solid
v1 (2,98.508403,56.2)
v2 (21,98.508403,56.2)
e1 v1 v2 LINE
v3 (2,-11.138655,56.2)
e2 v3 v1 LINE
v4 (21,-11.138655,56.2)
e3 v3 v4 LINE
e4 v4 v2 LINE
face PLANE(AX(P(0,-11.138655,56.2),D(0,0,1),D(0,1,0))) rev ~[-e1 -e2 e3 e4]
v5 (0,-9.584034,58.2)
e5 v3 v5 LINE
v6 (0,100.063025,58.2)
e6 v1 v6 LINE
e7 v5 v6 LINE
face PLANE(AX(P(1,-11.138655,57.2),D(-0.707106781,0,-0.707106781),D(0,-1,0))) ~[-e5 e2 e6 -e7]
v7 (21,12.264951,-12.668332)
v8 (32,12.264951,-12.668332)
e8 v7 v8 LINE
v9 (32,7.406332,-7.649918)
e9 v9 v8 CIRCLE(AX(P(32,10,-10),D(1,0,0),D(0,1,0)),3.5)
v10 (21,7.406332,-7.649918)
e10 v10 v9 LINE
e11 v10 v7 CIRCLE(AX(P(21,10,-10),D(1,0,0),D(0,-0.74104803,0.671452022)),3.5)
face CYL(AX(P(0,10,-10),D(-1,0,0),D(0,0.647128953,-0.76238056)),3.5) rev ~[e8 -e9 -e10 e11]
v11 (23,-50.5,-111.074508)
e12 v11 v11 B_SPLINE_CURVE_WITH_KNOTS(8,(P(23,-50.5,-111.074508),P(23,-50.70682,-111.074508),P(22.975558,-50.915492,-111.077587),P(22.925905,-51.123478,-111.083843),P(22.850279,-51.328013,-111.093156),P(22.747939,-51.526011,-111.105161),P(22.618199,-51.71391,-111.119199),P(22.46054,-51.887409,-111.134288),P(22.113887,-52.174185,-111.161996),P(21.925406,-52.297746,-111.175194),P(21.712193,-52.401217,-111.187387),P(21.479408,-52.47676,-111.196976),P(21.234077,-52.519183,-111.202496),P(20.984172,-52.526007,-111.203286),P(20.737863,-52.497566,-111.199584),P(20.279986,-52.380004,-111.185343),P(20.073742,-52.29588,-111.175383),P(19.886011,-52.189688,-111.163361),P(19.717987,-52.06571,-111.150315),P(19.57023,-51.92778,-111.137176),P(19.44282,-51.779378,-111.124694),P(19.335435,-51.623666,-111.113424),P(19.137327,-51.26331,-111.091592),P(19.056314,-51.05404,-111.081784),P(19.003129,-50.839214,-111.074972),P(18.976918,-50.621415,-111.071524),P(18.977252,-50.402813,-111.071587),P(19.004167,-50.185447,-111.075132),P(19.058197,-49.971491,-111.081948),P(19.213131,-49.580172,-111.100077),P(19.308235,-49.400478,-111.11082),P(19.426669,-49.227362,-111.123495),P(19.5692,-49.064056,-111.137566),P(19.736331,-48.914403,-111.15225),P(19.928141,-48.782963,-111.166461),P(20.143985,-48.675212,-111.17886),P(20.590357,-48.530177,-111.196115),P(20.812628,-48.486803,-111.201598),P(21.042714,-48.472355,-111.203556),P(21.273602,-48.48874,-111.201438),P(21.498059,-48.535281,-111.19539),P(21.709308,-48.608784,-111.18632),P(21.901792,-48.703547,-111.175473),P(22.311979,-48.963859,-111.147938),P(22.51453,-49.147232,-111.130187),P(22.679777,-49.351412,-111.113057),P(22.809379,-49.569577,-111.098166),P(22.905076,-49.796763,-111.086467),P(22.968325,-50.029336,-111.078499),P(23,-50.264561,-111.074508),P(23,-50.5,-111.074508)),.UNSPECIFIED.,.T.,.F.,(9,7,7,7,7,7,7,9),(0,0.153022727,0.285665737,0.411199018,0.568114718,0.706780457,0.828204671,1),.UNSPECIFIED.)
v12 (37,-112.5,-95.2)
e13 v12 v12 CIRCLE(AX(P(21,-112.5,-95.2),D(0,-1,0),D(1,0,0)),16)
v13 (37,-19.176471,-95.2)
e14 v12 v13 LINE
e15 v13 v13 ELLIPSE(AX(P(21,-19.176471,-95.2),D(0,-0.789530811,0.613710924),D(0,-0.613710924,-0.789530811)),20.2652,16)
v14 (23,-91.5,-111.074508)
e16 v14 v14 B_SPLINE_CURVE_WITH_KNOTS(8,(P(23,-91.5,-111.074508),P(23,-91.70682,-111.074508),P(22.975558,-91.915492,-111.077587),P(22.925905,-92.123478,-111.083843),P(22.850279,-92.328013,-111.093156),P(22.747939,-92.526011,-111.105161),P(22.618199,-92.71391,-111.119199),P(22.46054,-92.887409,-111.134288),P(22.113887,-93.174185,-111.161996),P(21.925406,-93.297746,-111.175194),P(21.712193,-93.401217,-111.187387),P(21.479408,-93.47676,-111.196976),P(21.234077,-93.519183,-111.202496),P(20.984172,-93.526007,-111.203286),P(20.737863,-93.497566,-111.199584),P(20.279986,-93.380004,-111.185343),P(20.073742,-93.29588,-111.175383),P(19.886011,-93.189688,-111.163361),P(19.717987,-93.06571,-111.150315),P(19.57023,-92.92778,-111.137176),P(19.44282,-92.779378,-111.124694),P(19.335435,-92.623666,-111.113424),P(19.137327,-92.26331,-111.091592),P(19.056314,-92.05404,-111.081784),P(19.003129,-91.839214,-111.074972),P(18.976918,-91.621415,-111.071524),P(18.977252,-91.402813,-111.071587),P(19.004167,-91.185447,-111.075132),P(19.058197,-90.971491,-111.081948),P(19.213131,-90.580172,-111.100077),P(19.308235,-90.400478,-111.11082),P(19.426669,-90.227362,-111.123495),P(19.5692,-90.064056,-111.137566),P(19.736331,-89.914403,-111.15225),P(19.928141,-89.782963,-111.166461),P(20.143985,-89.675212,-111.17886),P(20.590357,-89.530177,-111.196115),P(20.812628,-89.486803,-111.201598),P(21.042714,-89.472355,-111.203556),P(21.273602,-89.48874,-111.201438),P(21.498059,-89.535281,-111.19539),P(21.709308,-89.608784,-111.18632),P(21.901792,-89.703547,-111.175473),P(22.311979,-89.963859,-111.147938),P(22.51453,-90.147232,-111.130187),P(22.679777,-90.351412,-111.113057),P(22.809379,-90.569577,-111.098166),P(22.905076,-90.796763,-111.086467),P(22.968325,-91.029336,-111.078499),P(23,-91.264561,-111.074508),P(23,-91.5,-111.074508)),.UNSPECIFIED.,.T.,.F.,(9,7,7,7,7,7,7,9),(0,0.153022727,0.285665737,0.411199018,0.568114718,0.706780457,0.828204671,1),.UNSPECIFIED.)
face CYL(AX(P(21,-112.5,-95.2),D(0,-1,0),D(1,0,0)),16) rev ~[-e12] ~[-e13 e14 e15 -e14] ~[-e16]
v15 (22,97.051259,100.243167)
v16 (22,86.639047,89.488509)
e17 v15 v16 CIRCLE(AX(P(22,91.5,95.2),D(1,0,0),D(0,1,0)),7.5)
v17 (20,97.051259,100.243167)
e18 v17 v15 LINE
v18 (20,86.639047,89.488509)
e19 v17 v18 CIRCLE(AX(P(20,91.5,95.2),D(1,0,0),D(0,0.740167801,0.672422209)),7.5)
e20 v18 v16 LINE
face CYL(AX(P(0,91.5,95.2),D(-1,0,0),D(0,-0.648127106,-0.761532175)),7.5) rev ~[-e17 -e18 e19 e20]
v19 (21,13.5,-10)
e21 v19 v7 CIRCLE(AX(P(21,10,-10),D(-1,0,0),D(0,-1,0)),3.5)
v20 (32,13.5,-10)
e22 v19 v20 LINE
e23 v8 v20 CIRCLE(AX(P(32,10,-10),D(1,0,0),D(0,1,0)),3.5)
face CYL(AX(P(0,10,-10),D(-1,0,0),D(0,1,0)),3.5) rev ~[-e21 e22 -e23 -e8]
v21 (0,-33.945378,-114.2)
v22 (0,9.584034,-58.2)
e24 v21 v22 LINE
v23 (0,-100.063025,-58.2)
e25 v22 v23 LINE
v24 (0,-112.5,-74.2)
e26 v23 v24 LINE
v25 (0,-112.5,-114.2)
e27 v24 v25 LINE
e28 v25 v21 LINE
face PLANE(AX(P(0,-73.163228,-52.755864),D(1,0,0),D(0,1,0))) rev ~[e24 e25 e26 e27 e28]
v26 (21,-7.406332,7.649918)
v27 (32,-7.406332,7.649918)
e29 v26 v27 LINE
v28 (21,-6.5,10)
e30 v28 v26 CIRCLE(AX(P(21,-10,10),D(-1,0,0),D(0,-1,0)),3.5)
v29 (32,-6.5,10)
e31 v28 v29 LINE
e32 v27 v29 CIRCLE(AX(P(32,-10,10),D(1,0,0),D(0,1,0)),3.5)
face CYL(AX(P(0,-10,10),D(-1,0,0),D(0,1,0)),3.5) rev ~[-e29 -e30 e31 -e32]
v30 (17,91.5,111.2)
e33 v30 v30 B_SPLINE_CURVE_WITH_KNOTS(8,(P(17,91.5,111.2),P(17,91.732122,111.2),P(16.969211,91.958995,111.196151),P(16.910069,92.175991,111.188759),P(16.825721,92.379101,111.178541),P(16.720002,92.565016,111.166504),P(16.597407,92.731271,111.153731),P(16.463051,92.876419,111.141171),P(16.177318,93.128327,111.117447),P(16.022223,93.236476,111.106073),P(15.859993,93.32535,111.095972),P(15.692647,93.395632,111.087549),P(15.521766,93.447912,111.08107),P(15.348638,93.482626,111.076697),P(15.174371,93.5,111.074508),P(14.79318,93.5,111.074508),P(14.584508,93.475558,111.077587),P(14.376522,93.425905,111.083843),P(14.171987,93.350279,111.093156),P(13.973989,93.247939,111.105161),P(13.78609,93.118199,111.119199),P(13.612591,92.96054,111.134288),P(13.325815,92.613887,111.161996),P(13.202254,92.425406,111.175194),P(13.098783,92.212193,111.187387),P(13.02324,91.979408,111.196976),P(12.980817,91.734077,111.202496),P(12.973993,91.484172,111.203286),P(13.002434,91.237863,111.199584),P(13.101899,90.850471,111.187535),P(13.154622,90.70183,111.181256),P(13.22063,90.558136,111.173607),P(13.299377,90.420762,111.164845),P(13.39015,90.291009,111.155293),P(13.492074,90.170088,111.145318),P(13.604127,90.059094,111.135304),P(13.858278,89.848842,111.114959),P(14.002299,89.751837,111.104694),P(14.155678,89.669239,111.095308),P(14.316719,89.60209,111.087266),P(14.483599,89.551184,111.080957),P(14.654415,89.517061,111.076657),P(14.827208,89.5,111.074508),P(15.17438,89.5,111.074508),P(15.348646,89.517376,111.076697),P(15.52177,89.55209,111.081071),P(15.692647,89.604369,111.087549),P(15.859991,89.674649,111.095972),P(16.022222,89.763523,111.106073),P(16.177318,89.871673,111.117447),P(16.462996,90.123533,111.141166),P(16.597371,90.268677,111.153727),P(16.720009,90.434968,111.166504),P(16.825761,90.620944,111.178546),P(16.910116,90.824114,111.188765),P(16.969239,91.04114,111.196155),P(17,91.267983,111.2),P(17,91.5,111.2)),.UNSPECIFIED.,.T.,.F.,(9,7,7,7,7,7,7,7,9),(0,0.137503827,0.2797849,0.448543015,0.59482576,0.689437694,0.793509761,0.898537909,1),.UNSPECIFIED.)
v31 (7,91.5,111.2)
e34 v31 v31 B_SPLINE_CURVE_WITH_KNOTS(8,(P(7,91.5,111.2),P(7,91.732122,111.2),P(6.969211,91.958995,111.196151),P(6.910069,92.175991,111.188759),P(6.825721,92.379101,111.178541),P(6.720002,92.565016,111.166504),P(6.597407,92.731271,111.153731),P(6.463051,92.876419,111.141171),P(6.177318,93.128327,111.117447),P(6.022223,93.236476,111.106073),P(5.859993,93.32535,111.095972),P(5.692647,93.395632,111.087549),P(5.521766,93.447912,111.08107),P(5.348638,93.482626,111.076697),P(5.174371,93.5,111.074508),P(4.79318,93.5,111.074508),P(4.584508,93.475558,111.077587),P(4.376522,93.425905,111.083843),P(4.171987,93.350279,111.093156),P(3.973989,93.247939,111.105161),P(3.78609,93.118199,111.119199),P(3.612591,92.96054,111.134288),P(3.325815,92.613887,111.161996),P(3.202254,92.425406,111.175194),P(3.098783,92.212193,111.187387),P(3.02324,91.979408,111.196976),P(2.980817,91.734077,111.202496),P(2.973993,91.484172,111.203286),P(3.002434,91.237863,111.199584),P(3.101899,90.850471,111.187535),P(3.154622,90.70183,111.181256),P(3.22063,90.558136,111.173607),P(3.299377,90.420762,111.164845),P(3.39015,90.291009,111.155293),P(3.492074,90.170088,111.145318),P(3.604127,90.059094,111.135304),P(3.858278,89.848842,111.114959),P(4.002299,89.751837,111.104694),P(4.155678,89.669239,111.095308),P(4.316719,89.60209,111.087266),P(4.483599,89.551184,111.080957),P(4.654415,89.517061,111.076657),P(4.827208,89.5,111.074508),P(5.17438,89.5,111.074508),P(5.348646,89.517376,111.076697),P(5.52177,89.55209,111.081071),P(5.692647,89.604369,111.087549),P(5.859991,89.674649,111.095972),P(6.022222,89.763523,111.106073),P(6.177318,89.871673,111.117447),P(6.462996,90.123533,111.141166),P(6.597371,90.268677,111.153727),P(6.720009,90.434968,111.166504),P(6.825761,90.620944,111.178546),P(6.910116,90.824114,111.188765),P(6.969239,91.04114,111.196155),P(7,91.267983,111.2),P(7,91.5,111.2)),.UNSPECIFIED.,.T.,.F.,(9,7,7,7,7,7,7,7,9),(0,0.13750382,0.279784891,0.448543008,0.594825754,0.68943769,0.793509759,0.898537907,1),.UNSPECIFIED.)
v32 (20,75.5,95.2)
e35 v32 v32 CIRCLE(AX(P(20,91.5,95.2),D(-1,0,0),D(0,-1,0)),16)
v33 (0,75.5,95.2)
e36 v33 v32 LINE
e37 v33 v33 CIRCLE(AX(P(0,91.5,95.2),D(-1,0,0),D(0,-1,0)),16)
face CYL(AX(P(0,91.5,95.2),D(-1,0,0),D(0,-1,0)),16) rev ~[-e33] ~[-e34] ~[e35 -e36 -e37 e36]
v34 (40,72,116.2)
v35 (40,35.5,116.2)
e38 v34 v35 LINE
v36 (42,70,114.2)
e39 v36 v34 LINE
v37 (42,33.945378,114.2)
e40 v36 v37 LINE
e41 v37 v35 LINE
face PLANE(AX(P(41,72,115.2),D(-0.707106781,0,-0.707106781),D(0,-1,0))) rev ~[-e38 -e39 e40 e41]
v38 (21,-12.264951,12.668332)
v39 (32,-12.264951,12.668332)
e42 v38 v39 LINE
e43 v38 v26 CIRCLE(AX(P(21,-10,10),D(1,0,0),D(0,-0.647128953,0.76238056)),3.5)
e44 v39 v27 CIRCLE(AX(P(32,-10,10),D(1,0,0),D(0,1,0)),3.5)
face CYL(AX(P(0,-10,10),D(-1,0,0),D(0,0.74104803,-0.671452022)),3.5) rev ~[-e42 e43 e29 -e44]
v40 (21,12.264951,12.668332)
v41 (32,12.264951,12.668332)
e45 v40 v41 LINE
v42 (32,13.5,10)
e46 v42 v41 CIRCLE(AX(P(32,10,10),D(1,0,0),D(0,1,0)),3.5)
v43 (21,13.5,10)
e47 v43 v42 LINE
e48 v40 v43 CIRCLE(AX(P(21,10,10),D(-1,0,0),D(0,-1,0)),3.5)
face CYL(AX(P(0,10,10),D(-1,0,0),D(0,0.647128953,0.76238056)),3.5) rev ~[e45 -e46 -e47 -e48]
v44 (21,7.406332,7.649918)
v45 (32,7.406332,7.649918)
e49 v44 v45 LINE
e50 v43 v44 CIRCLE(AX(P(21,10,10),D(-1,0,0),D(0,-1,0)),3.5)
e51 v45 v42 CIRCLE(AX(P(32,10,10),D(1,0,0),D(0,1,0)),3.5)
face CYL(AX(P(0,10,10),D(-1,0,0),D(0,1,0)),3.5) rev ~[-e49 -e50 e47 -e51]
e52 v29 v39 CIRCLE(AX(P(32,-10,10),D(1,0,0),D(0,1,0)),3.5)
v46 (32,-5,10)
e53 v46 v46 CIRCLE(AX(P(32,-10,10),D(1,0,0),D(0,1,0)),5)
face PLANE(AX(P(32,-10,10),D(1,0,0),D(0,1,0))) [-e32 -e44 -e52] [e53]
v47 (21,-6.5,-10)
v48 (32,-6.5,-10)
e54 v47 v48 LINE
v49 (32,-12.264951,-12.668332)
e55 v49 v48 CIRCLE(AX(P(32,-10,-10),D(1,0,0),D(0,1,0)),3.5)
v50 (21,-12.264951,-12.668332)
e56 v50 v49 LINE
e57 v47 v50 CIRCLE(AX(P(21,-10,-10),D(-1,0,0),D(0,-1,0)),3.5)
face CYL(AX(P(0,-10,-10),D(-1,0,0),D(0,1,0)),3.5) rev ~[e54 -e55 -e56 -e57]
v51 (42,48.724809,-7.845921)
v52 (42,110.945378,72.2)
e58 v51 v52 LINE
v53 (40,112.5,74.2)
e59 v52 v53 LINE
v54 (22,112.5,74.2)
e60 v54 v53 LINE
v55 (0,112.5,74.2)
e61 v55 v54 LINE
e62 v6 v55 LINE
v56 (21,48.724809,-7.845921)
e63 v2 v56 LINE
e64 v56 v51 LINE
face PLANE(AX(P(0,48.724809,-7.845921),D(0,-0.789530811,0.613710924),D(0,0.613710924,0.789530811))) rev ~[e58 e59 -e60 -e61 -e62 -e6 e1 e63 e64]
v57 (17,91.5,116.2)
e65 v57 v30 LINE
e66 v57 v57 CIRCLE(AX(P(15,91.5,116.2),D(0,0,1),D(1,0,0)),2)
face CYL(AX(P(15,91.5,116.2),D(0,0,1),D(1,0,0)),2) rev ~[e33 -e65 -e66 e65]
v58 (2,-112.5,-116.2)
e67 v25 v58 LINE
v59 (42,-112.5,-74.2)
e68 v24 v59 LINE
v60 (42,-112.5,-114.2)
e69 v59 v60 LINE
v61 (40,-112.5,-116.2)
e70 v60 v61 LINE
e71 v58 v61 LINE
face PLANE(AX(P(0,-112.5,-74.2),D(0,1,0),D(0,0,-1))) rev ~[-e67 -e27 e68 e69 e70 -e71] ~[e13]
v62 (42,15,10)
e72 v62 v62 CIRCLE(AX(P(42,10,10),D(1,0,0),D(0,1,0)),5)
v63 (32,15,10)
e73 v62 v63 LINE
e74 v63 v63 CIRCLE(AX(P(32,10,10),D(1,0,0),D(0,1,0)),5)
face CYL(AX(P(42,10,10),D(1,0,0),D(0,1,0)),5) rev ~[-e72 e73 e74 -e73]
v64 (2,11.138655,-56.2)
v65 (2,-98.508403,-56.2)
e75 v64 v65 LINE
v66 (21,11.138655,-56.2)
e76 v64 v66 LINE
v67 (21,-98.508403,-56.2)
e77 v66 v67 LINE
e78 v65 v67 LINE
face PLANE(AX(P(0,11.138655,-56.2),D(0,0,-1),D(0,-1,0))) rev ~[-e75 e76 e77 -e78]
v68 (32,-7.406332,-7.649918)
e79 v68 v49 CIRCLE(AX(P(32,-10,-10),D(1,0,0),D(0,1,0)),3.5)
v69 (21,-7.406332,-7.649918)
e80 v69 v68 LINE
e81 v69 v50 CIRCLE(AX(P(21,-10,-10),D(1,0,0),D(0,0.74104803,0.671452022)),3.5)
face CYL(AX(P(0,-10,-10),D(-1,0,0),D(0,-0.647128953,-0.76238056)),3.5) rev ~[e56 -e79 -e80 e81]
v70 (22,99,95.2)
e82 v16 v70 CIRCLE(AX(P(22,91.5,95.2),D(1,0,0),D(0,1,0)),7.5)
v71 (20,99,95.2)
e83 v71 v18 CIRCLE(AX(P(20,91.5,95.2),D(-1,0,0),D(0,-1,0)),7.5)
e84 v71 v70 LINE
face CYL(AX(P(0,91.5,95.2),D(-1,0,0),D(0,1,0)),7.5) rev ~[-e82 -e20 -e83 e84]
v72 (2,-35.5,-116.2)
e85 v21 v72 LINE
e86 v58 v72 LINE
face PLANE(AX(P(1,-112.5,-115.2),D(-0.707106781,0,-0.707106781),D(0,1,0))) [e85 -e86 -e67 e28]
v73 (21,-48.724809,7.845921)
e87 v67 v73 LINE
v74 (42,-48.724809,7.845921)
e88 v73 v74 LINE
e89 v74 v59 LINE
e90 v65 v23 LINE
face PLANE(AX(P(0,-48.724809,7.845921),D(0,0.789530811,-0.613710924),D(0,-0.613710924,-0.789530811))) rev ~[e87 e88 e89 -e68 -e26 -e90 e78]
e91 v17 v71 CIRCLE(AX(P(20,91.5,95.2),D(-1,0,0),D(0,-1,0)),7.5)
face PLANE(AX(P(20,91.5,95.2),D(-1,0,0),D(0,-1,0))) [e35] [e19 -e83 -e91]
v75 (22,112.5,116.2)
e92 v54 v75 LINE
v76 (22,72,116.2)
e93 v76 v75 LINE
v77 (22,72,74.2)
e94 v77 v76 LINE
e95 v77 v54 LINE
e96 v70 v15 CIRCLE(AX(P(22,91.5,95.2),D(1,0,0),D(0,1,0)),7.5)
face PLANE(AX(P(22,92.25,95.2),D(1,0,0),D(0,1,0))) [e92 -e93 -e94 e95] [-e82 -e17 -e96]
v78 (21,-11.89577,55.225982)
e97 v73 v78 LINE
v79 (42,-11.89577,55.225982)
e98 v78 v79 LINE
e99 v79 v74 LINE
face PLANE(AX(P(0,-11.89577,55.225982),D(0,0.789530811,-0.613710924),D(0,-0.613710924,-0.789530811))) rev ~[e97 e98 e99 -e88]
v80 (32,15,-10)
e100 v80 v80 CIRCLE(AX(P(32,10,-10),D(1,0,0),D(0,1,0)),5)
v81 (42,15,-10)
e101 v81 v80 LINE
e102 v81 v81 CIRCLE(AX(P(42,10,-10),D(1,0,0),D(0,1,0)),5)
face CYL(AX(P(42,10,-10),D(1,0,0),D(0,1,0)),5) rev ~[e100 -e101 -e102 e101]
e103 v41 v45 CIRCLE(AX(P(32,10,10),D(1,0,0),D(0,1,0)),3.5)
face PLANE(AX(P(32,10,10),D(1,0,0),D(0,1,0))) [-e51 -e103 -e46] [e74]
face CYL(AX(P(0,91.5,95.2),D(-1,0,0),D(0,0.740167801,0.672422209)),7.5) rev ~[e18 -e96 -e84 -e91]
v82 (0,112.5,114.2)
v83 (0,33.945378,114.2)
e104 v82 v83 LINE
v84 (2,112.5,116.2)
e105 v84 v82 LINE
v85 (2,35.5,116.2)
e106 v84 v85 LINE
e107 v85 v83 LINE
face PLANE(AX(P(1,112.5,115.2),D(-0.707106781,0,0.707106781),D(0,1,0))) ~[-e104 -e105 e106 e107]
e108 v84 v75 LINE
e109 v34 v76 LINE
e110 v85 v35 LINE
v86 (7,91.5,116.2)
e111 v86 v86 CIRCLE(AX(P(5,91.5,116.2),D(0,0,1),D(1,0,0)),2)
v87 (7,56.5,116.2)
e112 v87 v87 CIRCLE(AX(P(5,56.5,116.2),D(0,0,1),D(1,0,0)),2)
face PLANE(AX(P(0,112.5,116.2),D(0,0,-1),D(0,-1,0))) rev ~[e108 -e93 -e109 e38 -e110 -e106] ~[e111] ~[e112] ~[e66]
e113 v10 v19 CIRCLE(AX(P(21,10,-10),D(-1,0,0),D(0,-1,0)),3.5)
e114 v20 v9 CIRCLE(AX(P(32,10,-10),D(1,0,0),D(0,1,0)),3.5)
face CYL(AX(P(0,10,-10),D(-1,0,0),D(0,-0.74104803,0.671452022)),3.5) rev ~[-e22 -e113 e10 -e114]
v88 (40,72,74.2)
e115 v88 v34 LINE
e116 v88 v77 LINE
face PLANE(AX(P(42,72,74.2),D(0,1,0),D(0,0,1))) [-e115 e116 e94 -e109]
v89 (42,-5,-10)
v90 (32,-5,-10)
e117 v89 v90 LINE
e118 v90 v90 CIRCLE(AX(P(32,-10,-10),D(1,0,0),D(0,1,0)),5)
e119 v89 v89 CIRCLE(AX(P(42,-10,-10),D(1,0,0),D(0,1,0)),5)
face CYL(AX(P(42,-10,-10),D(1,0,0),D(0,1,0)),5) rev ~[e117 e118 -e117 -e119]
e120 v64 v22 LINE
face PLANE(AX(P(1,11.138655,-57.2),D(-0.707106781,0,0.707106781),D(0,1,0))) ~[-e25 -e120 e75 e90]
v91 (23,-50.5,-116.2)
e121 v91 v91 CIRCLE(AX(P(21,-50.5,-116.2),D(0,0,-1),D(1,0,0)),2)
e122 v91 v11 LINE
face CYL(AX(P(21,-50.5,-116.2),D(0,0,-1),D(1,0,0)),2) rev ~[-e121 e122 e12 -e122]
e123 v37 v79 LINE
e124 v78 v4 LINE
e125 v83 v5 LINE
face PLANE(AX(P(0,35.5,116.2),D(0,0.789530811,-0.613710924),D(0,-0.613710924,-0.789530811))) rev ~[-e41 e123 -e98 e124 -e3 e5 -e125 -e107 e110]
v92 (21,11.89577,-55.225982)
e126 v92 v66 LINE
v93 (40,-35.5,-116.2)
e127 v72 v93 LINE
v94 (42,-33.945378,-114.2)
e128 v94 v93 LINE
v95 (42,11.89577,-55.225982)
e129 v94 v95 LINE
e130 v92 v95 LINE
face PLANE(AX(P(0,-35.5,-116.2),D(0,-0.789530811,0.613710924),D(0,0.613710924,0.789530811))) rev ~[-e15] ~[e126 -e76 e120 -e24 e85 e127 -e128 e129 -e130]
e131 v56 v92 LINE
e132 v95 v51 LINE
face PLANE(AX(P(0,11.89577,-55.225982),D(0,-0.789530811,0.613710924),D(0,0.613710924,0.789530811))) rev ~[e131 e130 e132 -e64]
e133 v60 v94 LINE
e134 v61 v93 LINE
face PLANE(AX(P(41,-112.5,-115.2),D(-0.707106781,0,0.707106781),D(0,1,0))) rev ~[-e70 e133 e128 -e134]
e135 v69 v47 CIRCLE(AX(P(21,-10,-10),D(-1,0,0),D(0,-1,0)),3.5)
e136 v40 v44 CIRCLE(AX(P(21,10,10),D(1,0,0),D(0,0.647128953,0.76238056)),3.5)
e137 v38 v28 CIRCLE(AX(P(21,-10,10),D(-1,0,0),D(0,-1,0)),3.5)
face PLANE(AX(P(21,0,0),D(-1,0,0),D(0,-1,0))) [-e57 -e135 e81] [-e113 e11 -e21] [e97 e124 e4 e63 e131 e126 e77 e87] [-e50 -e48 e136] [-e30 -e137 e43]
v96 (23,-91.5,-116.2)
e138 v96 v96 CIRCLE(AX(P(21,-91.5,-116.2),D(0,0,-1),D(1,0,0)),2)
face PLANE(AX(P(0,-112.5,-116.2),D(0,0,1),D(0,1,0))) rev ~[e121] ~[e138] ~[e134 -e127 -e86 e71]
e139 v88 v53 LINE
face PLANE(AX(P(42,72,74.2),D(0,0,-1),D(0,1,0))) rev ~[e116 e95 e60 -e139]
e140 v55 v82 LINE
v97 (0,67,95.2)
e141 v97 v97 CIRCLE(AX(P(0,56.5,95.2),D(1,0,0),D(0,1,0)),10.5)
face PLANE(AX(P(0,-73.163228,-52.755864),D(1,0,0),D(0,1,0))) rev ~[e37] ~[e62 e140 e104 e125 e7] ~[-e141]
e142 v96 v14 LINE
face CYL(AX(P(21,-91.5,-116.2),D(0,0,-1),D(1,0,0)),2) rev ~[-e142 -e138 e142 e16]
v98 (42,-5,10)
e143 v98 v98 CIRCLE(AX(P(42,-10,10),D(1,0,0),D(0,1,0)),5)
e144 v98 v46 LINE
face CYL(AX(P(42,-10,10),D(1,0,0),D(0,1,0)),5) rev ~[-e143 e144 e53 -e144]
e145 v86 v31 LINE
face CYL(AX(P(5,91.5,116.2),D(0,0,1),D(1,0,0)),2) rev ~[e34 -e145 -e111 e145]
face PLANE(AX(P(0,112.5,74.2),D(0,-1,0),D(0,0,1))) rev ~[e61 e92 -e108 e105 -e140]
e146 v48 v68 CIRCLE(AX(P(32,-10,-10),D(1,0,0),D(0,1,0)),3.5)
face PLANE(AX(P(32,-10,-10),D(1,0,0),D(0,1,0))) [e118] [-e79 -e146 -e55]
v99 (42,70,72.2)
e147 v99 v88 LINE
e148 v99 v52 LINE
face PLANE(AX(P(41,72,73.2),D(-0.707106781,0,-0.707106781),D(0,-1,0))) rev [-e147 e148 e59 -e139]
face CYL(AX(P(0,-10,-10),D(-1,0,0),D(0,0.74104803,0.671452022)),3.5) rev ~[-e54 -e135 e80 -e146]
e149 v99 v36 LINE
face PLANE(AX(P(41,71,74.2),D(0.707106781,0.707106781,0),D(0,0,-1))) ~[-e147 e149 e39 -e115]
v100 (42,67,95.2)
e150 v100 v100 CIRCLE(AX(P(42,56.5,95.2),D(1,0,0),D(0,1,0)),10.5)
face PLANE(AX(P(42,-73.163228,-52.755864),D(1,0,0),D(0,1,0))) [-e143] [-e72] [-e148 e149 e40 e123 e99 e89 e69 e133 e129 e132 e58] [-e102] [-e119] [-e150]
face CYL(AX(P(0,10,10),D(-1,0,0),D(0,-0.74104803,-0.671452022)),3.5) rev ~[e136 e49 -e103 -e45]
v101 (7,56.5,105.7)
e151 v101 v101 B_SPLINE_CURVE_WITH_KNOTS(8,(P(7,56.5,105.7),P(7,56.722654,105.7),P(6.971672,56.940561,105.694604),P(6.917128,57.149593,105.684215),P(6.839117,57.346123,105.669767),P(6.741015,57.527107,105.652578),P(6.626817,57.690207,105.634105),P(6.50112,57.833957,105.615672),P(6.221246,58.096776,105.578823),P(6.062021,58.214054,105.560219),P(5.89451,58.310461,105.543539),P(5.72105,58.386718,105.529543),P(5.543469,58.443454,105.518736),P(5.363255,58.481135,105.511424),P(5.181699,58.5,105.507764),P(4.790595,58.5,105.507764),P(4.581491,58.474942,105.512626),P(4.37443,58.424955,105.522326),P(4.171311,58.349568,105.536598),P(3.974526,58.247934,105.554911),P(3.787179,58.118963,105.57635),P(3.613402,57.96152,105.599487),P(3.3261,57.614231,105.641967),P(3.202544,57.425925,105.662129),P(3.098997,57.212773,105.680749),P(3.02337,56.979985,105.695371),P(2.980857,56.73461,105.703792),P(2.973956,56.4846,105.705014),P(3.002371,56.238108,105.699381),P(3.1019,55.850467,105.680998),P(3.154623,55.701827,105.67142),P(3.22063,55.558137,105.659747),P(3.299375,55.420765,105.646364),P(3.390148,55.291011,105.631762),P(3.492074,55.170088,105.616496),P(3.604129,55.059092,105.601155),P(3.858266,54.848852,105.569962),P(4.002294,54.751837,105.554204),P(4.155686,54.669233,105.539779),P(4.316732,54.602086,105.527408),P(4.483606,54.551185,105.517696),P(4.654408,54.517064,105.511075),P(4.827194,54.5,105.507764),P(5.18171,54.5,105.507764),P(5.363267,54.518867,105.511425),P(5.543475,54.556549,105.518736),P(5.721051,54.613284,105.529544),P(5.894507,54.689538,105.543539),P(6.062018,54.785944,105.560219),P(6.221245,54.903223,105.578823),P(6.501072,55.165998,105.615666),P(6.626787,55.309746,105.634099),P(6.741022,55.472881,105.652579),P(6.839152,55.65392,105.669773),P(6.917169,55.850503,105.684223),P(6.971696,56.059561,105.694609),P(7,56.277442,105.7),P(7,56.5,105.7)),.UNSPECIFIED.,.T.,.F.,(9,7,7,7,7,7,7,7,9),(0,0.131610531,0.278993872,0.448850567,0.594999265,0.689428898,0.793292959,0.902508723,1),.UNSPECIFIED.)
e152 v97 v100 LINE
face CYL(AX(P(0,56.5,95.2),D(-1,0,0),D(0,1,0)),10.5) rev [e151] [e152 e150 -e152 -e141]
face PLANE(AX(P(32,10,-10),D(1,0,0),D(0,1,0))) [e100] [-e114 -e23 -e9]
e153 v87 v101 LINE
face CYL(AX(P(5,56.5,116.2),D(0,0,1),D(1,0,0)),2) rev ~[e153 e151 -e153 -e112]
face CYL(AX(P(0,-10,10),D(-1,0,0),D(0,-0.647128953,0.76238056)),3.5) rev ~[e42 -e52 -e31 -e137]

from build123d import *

# Parameters (mm, degrees)
F0_R      = 10.5
F1_DEPTH  = 42
F2_R      = 5
F2_R_2    = 3.5
F3_DEPTH  = 10
F4_W      = 40.5
F4_H      = 42
F4_R      = 7.5
F5_DEPTH  = 20
F6_R      = 3.5
F7_DEPTH  = 21
F8_R      = 16
F9_DEPTH  = 150
F10_SIZE  = 2
F11_R     = 2
F12_DEPTH = 25
F13_R     = 2
F14_DEPTH = 25
F15_R     = 16
F15_R_2   = 7.5
F16_DEPTH = 20


with BuildPart() as f1:
    # F0 (on Right) → F1 (new body)
    with BuildSketch(Plane.YZ):
        Polygon((-20.6668798583, -21.3465905736), (-48.7248089568, 7.8459214502), (-112.5, -74.2), (-112.5, -116.2), align=None)
        Polygon((-35.5, -116.2), (11.8957703927, -55.2259818731), (-20.6668798583, -21.3465905736), (-112.5, -116.2), align=None)
        with BuildLine():
            Line((-12.2649513369, 12.6683319586), (-30.4089327146, 31.4090487239))
            Line((-30.4089327146, 31.4090487239), (-48.7248089568, 7.8459214502))
            Line((-48.7248089568, 7.8459214502), (-20.6668798583, -21.3465905736))
            Line((-20.6668798583, -21.3465905736), (-12.2649513369, -12.6683319586))
            ThreePointArc((-12.2649513369, -12.6683319586), (-12.5145841676, -7.5654843472), (-7.4063318963, -7.6499179231))
            Line((-7.4063318963, -7.6499179231), (0, 0))
            Line((0, 0), (-7.4063318963, 7.6499179231))
            ThreePointArc((-7.4063318963, 7.6499179231), (-12.5145841676, 7.5654843472), (-12.2649513369, 12.6683319586))
        make_face()
        with BuildLine():
            Line((11.8957703927, -55.2259818731), (30.4089327146, -31.4090487239))
            Line((30.4089327146, -31.4090487239), (12.2649513369, -12.6683319586))
            ThreePointArc((12.2649513369, -12.6683319586), (7.4854158324, -12.4345156528), (7.4063318963, -7.6499179231))
            Line((7.4063318963, -7.6499179231), (0, 0))
            Line((0, 0), (-7.4063318963, -7.6499179231))
            ThreePointArc((-7.4063318963, -7.6499179231), (-6.7344343244, -8.7406029941), (-6.5, -10))
            ThreePointArc((-6.5, -10), (-8.5298519937, -13.1762658641), (-12.2649513369, -12.6683319586))
            Line((-12.2649513369, -12.6683319586), (-20.6668798583, -21.3465905736))
            Line((-20.6668798583, -21.3465905736), (11.8957703927, -55.2259818731))
        make_face()
        with BuildLine():
            Line((20.6668798583, 21.3465905736), (-11.8957703927, 55.2259818731))
            Line((-11.8957703927, 55.2259818731), (-30.4089327146, 31.4090487239))
            Line((-30.4089327146, 31.4090487239), (-12.2649513369, 12.6683319586))
            ThreePointArc((-12.2649513369, 12.6683319586), (-8.5298519937, 13.1762658641), (-6.5, 10))
            ThreePointArc((-6.5, 10), (-6.7344343244, 8.7406029941), (-7.4063318963, 7.6499179231))
            Line((-7.4063318963, 7.6499179231), (0, 0))
            Line((0, 0), (7.4063318963, 7.6499179231))
            ThreePointArc((7.4063318963, 7.6499179231), (7.4854158324, 12.4345156528), (12.2649513369, 12.6683319586))
            Line((12.2649513369, 12.6683319586), (20.6668798583, 21.3465905736))
        make_face()
        with BuildLine():
            Line((30.4089327146, -31.4090487239), (48.7248089568, -7.8459214502))
            Line((48.7248089568, -7.8459214502), (20.6668798583, 21.3465905736))
            Line((20.6668798583, 21.3465905736), (12.2649513369, 12.6683319586))
            ThreePointArc((12.2649513369, 12.6683319586), (13.1762658641, 11.4701480063), (13.5, 10))
            ThreePointArc((13.5, 10), (11.2593970059, 6.7344343244), (7.4063318963, 7.6499179231))
            Line((7.4063318963, 7.6499179231), (0, 0))
            Line((0, 0), (7.4063318963, -7.6499179231))
            ThreePointArc((7.4063318963, -7.6499179231), (11.2593970059, -6.7344343244), (13.5, -10))
            ThreePointArc((13.5, -10), (13.1762658641, -11.4701480063), (12.2649513369, -12.6683319586))
            Line((12.2649513369, -12.6683319586), (30.4089327146, -31.4090487239))
        make_face()
        with BuildLine():
            Line((112.5, 74.2), (112.5, 116.2))
            Line((112.5, 116.2), (97.0512585066, 100.2431665641))
            ThreePointArc((97.0512585066, 100.2431665641), (98.4958715968, 97.9032906985), (99, 95.2))
            ThreePointArc((99, 95.2), (94.6458584105, 88.391654029), (86.6390467037, 89.4885086842))
            Line((86.6390467037, 89.4885086842), (20.6668798583, 21.3465905736))
            Line((20.6668798583, 21.3465905736), (48.7248089568, -7.8459214502))
            Line((48.7248089568, -7.8459214502), (112.5, 74.2))
        make_face()
        with BuildLine():
            Line((97.0512585066, 100.2431665641), (112.5, 116.2))
            Line((112.5, 116.2), (35.5, 116.2))
            Line((35.5, 116.2), (-11.8957703927, 55.2259818731))
            Line((-11.8957703927, 55.2259818731), (20.6668798583, 21.3465905736))
            Line((20.6668798583, 21.3465905736), (86.6390467037, 89.4885086842))
            ThreePointArc((86.6390467037, 89.4885086842), (86.1116053551, 100.4168192561), (97.0512585066, 100.2431665641))
        make_face()
        with Locations((56.5, 95.2)):
            Circle(F0_R, mode=Mode.SUBTRACT)
    extrude(amount=F1_DEPTH)

    # F2 (on face) → F3 (cut)
    with BuildSketch(Plane.YZ.offset(42)):
        with Locations((10, -10)):
            Circle(F2_R)
        with Locations((10, -10)):
            Circle(F2_R_2, mode=Mode.SUBTRACT)
        with Locations((-10, -10)):
            Circle(F2_R)
        with Locations((-10, -10)):
            Circle(F2_R_2, mode=Mode.SUBTRACT)
        with Locations((-10, 10)):
            Circle(F2_R)
        with Locations((-10, 10)):
            Circle(F2_R_2, mode=Mode.SUBTRACT)
        with Locations((10, 10)):
            Circle(F2_R)
        with Locations((10, 10)):
            Circle(F2_R_2, mode=Mode.SUBTRACT)
    extrude(amount=-F3_DEPTH, mode=Mode.SUBTRACT)

    # F4 (on face) → F5 (cut)
    with BuildSketch(Plane.YZ.offset(42)):
        with Locations((92.25, 95.2)):
            Rectangle(F4_W, F4_H)
        with Locations((91.5, 95.2)):
            Circle(F4_R, mode=Mode.SUBTRACT)
    extrude(amount=-F5_DEPTH, mode=Mode.SUBTRACT)

    # F6 (on face) → F7 (cut)
    with BuildSketch(Plane(origin=(0, 0, 0), x_dir=(0, -1, 0), z_dir=(-1, 0, 0))):
        Polygon((11.1386554622, 56.2), (-98.5084033613, 56.2), (-11.1386554622, -56.2), (98.5084033613, -56.2), align=None)
        with Locations((-10, -10)):
            Circle(F6_R, mode=Mode.SUBTRACT)
        with Locations((10, -10)):
            Circle(F6_R, mode=Mode.SUBTRACT)
        with Locations((-10, 10)):
            Circle(F6_R, mode=Mode.SUBTRACT)
        with Locations((10, 10)):
            Circle(F6_R, mode=Mode.SUBTRACT)
    extrude(amount=-F7_DEPTH, mode=Mode.SUBTRACT)

    # F8 (on face) → F9 (cut)
    with BuildSketch(Plane.XZ.offset(112.5)):
        with Locations((21, -95.2)):
            Circle(F8_R)
    extrude(amount=-F9_DEPTH, mode=Mode.SUBTRACT)

    # F10
    f10_edges = [f1.edges().sort_by_distance(p)[0] for p in [
        (42, -74, -116.2),
        (42, 92.25, 74.2),
        (42, 72, 95.2),
        (42, 53.75, 116.2),
        (0, -74, -116.2),
        (0, -43.684874, -56.2),
        (0, 43.684874, 56.2),
        (0, 74, 116.2),
    ]]
    chamfer(f10_edges, length=F10_SIZE)

    # F11 (on face) → F12 (cut)
    with BuildSketch(Plane(origin=(0, 0, -116.2), x_dir=(1, 0, 0), z_dir=(0, 0, -1))):
        with Locations((21, 50.5)):
            Circle(F11_R)
        with Locations((21, 91.5)):
            Circle(F11_R)
    extrude(amount=-F12_DEPTH, mode=Mode.SUBTRACT)

    # F13 (on face) → F14 (cut)
    with BuildSketch(Plane.XY.offset(116.2)):
        with Locations((5, 56.5)):
            Circle(F13_R)
        with Locations((15, 91.5)):
            Circle(F13_R)
        with Locations((5, 91.5)):
            Circle(F13_R)
    extrude(amount=-F14_DEPTH, mode=Mode.SUBTRACT)

    # F15 (on face) → F16 (cut)
    with BuildSketch(Plane(origin=(0, 0, 0), x_dir=(0, -1, 0), z_dir=(-1, 0, 0))):
        with Locations((-91.5, 95.2)):
            Circle(F15_R)
        with Locations((-91.5, 95.2)):
            Circle(F15_R_2, mode=Mode.SUBTRACT)
    extrude(amount=-F16_DEPTH, mode=Mode.SUBTRACT)


solid = f1.part
